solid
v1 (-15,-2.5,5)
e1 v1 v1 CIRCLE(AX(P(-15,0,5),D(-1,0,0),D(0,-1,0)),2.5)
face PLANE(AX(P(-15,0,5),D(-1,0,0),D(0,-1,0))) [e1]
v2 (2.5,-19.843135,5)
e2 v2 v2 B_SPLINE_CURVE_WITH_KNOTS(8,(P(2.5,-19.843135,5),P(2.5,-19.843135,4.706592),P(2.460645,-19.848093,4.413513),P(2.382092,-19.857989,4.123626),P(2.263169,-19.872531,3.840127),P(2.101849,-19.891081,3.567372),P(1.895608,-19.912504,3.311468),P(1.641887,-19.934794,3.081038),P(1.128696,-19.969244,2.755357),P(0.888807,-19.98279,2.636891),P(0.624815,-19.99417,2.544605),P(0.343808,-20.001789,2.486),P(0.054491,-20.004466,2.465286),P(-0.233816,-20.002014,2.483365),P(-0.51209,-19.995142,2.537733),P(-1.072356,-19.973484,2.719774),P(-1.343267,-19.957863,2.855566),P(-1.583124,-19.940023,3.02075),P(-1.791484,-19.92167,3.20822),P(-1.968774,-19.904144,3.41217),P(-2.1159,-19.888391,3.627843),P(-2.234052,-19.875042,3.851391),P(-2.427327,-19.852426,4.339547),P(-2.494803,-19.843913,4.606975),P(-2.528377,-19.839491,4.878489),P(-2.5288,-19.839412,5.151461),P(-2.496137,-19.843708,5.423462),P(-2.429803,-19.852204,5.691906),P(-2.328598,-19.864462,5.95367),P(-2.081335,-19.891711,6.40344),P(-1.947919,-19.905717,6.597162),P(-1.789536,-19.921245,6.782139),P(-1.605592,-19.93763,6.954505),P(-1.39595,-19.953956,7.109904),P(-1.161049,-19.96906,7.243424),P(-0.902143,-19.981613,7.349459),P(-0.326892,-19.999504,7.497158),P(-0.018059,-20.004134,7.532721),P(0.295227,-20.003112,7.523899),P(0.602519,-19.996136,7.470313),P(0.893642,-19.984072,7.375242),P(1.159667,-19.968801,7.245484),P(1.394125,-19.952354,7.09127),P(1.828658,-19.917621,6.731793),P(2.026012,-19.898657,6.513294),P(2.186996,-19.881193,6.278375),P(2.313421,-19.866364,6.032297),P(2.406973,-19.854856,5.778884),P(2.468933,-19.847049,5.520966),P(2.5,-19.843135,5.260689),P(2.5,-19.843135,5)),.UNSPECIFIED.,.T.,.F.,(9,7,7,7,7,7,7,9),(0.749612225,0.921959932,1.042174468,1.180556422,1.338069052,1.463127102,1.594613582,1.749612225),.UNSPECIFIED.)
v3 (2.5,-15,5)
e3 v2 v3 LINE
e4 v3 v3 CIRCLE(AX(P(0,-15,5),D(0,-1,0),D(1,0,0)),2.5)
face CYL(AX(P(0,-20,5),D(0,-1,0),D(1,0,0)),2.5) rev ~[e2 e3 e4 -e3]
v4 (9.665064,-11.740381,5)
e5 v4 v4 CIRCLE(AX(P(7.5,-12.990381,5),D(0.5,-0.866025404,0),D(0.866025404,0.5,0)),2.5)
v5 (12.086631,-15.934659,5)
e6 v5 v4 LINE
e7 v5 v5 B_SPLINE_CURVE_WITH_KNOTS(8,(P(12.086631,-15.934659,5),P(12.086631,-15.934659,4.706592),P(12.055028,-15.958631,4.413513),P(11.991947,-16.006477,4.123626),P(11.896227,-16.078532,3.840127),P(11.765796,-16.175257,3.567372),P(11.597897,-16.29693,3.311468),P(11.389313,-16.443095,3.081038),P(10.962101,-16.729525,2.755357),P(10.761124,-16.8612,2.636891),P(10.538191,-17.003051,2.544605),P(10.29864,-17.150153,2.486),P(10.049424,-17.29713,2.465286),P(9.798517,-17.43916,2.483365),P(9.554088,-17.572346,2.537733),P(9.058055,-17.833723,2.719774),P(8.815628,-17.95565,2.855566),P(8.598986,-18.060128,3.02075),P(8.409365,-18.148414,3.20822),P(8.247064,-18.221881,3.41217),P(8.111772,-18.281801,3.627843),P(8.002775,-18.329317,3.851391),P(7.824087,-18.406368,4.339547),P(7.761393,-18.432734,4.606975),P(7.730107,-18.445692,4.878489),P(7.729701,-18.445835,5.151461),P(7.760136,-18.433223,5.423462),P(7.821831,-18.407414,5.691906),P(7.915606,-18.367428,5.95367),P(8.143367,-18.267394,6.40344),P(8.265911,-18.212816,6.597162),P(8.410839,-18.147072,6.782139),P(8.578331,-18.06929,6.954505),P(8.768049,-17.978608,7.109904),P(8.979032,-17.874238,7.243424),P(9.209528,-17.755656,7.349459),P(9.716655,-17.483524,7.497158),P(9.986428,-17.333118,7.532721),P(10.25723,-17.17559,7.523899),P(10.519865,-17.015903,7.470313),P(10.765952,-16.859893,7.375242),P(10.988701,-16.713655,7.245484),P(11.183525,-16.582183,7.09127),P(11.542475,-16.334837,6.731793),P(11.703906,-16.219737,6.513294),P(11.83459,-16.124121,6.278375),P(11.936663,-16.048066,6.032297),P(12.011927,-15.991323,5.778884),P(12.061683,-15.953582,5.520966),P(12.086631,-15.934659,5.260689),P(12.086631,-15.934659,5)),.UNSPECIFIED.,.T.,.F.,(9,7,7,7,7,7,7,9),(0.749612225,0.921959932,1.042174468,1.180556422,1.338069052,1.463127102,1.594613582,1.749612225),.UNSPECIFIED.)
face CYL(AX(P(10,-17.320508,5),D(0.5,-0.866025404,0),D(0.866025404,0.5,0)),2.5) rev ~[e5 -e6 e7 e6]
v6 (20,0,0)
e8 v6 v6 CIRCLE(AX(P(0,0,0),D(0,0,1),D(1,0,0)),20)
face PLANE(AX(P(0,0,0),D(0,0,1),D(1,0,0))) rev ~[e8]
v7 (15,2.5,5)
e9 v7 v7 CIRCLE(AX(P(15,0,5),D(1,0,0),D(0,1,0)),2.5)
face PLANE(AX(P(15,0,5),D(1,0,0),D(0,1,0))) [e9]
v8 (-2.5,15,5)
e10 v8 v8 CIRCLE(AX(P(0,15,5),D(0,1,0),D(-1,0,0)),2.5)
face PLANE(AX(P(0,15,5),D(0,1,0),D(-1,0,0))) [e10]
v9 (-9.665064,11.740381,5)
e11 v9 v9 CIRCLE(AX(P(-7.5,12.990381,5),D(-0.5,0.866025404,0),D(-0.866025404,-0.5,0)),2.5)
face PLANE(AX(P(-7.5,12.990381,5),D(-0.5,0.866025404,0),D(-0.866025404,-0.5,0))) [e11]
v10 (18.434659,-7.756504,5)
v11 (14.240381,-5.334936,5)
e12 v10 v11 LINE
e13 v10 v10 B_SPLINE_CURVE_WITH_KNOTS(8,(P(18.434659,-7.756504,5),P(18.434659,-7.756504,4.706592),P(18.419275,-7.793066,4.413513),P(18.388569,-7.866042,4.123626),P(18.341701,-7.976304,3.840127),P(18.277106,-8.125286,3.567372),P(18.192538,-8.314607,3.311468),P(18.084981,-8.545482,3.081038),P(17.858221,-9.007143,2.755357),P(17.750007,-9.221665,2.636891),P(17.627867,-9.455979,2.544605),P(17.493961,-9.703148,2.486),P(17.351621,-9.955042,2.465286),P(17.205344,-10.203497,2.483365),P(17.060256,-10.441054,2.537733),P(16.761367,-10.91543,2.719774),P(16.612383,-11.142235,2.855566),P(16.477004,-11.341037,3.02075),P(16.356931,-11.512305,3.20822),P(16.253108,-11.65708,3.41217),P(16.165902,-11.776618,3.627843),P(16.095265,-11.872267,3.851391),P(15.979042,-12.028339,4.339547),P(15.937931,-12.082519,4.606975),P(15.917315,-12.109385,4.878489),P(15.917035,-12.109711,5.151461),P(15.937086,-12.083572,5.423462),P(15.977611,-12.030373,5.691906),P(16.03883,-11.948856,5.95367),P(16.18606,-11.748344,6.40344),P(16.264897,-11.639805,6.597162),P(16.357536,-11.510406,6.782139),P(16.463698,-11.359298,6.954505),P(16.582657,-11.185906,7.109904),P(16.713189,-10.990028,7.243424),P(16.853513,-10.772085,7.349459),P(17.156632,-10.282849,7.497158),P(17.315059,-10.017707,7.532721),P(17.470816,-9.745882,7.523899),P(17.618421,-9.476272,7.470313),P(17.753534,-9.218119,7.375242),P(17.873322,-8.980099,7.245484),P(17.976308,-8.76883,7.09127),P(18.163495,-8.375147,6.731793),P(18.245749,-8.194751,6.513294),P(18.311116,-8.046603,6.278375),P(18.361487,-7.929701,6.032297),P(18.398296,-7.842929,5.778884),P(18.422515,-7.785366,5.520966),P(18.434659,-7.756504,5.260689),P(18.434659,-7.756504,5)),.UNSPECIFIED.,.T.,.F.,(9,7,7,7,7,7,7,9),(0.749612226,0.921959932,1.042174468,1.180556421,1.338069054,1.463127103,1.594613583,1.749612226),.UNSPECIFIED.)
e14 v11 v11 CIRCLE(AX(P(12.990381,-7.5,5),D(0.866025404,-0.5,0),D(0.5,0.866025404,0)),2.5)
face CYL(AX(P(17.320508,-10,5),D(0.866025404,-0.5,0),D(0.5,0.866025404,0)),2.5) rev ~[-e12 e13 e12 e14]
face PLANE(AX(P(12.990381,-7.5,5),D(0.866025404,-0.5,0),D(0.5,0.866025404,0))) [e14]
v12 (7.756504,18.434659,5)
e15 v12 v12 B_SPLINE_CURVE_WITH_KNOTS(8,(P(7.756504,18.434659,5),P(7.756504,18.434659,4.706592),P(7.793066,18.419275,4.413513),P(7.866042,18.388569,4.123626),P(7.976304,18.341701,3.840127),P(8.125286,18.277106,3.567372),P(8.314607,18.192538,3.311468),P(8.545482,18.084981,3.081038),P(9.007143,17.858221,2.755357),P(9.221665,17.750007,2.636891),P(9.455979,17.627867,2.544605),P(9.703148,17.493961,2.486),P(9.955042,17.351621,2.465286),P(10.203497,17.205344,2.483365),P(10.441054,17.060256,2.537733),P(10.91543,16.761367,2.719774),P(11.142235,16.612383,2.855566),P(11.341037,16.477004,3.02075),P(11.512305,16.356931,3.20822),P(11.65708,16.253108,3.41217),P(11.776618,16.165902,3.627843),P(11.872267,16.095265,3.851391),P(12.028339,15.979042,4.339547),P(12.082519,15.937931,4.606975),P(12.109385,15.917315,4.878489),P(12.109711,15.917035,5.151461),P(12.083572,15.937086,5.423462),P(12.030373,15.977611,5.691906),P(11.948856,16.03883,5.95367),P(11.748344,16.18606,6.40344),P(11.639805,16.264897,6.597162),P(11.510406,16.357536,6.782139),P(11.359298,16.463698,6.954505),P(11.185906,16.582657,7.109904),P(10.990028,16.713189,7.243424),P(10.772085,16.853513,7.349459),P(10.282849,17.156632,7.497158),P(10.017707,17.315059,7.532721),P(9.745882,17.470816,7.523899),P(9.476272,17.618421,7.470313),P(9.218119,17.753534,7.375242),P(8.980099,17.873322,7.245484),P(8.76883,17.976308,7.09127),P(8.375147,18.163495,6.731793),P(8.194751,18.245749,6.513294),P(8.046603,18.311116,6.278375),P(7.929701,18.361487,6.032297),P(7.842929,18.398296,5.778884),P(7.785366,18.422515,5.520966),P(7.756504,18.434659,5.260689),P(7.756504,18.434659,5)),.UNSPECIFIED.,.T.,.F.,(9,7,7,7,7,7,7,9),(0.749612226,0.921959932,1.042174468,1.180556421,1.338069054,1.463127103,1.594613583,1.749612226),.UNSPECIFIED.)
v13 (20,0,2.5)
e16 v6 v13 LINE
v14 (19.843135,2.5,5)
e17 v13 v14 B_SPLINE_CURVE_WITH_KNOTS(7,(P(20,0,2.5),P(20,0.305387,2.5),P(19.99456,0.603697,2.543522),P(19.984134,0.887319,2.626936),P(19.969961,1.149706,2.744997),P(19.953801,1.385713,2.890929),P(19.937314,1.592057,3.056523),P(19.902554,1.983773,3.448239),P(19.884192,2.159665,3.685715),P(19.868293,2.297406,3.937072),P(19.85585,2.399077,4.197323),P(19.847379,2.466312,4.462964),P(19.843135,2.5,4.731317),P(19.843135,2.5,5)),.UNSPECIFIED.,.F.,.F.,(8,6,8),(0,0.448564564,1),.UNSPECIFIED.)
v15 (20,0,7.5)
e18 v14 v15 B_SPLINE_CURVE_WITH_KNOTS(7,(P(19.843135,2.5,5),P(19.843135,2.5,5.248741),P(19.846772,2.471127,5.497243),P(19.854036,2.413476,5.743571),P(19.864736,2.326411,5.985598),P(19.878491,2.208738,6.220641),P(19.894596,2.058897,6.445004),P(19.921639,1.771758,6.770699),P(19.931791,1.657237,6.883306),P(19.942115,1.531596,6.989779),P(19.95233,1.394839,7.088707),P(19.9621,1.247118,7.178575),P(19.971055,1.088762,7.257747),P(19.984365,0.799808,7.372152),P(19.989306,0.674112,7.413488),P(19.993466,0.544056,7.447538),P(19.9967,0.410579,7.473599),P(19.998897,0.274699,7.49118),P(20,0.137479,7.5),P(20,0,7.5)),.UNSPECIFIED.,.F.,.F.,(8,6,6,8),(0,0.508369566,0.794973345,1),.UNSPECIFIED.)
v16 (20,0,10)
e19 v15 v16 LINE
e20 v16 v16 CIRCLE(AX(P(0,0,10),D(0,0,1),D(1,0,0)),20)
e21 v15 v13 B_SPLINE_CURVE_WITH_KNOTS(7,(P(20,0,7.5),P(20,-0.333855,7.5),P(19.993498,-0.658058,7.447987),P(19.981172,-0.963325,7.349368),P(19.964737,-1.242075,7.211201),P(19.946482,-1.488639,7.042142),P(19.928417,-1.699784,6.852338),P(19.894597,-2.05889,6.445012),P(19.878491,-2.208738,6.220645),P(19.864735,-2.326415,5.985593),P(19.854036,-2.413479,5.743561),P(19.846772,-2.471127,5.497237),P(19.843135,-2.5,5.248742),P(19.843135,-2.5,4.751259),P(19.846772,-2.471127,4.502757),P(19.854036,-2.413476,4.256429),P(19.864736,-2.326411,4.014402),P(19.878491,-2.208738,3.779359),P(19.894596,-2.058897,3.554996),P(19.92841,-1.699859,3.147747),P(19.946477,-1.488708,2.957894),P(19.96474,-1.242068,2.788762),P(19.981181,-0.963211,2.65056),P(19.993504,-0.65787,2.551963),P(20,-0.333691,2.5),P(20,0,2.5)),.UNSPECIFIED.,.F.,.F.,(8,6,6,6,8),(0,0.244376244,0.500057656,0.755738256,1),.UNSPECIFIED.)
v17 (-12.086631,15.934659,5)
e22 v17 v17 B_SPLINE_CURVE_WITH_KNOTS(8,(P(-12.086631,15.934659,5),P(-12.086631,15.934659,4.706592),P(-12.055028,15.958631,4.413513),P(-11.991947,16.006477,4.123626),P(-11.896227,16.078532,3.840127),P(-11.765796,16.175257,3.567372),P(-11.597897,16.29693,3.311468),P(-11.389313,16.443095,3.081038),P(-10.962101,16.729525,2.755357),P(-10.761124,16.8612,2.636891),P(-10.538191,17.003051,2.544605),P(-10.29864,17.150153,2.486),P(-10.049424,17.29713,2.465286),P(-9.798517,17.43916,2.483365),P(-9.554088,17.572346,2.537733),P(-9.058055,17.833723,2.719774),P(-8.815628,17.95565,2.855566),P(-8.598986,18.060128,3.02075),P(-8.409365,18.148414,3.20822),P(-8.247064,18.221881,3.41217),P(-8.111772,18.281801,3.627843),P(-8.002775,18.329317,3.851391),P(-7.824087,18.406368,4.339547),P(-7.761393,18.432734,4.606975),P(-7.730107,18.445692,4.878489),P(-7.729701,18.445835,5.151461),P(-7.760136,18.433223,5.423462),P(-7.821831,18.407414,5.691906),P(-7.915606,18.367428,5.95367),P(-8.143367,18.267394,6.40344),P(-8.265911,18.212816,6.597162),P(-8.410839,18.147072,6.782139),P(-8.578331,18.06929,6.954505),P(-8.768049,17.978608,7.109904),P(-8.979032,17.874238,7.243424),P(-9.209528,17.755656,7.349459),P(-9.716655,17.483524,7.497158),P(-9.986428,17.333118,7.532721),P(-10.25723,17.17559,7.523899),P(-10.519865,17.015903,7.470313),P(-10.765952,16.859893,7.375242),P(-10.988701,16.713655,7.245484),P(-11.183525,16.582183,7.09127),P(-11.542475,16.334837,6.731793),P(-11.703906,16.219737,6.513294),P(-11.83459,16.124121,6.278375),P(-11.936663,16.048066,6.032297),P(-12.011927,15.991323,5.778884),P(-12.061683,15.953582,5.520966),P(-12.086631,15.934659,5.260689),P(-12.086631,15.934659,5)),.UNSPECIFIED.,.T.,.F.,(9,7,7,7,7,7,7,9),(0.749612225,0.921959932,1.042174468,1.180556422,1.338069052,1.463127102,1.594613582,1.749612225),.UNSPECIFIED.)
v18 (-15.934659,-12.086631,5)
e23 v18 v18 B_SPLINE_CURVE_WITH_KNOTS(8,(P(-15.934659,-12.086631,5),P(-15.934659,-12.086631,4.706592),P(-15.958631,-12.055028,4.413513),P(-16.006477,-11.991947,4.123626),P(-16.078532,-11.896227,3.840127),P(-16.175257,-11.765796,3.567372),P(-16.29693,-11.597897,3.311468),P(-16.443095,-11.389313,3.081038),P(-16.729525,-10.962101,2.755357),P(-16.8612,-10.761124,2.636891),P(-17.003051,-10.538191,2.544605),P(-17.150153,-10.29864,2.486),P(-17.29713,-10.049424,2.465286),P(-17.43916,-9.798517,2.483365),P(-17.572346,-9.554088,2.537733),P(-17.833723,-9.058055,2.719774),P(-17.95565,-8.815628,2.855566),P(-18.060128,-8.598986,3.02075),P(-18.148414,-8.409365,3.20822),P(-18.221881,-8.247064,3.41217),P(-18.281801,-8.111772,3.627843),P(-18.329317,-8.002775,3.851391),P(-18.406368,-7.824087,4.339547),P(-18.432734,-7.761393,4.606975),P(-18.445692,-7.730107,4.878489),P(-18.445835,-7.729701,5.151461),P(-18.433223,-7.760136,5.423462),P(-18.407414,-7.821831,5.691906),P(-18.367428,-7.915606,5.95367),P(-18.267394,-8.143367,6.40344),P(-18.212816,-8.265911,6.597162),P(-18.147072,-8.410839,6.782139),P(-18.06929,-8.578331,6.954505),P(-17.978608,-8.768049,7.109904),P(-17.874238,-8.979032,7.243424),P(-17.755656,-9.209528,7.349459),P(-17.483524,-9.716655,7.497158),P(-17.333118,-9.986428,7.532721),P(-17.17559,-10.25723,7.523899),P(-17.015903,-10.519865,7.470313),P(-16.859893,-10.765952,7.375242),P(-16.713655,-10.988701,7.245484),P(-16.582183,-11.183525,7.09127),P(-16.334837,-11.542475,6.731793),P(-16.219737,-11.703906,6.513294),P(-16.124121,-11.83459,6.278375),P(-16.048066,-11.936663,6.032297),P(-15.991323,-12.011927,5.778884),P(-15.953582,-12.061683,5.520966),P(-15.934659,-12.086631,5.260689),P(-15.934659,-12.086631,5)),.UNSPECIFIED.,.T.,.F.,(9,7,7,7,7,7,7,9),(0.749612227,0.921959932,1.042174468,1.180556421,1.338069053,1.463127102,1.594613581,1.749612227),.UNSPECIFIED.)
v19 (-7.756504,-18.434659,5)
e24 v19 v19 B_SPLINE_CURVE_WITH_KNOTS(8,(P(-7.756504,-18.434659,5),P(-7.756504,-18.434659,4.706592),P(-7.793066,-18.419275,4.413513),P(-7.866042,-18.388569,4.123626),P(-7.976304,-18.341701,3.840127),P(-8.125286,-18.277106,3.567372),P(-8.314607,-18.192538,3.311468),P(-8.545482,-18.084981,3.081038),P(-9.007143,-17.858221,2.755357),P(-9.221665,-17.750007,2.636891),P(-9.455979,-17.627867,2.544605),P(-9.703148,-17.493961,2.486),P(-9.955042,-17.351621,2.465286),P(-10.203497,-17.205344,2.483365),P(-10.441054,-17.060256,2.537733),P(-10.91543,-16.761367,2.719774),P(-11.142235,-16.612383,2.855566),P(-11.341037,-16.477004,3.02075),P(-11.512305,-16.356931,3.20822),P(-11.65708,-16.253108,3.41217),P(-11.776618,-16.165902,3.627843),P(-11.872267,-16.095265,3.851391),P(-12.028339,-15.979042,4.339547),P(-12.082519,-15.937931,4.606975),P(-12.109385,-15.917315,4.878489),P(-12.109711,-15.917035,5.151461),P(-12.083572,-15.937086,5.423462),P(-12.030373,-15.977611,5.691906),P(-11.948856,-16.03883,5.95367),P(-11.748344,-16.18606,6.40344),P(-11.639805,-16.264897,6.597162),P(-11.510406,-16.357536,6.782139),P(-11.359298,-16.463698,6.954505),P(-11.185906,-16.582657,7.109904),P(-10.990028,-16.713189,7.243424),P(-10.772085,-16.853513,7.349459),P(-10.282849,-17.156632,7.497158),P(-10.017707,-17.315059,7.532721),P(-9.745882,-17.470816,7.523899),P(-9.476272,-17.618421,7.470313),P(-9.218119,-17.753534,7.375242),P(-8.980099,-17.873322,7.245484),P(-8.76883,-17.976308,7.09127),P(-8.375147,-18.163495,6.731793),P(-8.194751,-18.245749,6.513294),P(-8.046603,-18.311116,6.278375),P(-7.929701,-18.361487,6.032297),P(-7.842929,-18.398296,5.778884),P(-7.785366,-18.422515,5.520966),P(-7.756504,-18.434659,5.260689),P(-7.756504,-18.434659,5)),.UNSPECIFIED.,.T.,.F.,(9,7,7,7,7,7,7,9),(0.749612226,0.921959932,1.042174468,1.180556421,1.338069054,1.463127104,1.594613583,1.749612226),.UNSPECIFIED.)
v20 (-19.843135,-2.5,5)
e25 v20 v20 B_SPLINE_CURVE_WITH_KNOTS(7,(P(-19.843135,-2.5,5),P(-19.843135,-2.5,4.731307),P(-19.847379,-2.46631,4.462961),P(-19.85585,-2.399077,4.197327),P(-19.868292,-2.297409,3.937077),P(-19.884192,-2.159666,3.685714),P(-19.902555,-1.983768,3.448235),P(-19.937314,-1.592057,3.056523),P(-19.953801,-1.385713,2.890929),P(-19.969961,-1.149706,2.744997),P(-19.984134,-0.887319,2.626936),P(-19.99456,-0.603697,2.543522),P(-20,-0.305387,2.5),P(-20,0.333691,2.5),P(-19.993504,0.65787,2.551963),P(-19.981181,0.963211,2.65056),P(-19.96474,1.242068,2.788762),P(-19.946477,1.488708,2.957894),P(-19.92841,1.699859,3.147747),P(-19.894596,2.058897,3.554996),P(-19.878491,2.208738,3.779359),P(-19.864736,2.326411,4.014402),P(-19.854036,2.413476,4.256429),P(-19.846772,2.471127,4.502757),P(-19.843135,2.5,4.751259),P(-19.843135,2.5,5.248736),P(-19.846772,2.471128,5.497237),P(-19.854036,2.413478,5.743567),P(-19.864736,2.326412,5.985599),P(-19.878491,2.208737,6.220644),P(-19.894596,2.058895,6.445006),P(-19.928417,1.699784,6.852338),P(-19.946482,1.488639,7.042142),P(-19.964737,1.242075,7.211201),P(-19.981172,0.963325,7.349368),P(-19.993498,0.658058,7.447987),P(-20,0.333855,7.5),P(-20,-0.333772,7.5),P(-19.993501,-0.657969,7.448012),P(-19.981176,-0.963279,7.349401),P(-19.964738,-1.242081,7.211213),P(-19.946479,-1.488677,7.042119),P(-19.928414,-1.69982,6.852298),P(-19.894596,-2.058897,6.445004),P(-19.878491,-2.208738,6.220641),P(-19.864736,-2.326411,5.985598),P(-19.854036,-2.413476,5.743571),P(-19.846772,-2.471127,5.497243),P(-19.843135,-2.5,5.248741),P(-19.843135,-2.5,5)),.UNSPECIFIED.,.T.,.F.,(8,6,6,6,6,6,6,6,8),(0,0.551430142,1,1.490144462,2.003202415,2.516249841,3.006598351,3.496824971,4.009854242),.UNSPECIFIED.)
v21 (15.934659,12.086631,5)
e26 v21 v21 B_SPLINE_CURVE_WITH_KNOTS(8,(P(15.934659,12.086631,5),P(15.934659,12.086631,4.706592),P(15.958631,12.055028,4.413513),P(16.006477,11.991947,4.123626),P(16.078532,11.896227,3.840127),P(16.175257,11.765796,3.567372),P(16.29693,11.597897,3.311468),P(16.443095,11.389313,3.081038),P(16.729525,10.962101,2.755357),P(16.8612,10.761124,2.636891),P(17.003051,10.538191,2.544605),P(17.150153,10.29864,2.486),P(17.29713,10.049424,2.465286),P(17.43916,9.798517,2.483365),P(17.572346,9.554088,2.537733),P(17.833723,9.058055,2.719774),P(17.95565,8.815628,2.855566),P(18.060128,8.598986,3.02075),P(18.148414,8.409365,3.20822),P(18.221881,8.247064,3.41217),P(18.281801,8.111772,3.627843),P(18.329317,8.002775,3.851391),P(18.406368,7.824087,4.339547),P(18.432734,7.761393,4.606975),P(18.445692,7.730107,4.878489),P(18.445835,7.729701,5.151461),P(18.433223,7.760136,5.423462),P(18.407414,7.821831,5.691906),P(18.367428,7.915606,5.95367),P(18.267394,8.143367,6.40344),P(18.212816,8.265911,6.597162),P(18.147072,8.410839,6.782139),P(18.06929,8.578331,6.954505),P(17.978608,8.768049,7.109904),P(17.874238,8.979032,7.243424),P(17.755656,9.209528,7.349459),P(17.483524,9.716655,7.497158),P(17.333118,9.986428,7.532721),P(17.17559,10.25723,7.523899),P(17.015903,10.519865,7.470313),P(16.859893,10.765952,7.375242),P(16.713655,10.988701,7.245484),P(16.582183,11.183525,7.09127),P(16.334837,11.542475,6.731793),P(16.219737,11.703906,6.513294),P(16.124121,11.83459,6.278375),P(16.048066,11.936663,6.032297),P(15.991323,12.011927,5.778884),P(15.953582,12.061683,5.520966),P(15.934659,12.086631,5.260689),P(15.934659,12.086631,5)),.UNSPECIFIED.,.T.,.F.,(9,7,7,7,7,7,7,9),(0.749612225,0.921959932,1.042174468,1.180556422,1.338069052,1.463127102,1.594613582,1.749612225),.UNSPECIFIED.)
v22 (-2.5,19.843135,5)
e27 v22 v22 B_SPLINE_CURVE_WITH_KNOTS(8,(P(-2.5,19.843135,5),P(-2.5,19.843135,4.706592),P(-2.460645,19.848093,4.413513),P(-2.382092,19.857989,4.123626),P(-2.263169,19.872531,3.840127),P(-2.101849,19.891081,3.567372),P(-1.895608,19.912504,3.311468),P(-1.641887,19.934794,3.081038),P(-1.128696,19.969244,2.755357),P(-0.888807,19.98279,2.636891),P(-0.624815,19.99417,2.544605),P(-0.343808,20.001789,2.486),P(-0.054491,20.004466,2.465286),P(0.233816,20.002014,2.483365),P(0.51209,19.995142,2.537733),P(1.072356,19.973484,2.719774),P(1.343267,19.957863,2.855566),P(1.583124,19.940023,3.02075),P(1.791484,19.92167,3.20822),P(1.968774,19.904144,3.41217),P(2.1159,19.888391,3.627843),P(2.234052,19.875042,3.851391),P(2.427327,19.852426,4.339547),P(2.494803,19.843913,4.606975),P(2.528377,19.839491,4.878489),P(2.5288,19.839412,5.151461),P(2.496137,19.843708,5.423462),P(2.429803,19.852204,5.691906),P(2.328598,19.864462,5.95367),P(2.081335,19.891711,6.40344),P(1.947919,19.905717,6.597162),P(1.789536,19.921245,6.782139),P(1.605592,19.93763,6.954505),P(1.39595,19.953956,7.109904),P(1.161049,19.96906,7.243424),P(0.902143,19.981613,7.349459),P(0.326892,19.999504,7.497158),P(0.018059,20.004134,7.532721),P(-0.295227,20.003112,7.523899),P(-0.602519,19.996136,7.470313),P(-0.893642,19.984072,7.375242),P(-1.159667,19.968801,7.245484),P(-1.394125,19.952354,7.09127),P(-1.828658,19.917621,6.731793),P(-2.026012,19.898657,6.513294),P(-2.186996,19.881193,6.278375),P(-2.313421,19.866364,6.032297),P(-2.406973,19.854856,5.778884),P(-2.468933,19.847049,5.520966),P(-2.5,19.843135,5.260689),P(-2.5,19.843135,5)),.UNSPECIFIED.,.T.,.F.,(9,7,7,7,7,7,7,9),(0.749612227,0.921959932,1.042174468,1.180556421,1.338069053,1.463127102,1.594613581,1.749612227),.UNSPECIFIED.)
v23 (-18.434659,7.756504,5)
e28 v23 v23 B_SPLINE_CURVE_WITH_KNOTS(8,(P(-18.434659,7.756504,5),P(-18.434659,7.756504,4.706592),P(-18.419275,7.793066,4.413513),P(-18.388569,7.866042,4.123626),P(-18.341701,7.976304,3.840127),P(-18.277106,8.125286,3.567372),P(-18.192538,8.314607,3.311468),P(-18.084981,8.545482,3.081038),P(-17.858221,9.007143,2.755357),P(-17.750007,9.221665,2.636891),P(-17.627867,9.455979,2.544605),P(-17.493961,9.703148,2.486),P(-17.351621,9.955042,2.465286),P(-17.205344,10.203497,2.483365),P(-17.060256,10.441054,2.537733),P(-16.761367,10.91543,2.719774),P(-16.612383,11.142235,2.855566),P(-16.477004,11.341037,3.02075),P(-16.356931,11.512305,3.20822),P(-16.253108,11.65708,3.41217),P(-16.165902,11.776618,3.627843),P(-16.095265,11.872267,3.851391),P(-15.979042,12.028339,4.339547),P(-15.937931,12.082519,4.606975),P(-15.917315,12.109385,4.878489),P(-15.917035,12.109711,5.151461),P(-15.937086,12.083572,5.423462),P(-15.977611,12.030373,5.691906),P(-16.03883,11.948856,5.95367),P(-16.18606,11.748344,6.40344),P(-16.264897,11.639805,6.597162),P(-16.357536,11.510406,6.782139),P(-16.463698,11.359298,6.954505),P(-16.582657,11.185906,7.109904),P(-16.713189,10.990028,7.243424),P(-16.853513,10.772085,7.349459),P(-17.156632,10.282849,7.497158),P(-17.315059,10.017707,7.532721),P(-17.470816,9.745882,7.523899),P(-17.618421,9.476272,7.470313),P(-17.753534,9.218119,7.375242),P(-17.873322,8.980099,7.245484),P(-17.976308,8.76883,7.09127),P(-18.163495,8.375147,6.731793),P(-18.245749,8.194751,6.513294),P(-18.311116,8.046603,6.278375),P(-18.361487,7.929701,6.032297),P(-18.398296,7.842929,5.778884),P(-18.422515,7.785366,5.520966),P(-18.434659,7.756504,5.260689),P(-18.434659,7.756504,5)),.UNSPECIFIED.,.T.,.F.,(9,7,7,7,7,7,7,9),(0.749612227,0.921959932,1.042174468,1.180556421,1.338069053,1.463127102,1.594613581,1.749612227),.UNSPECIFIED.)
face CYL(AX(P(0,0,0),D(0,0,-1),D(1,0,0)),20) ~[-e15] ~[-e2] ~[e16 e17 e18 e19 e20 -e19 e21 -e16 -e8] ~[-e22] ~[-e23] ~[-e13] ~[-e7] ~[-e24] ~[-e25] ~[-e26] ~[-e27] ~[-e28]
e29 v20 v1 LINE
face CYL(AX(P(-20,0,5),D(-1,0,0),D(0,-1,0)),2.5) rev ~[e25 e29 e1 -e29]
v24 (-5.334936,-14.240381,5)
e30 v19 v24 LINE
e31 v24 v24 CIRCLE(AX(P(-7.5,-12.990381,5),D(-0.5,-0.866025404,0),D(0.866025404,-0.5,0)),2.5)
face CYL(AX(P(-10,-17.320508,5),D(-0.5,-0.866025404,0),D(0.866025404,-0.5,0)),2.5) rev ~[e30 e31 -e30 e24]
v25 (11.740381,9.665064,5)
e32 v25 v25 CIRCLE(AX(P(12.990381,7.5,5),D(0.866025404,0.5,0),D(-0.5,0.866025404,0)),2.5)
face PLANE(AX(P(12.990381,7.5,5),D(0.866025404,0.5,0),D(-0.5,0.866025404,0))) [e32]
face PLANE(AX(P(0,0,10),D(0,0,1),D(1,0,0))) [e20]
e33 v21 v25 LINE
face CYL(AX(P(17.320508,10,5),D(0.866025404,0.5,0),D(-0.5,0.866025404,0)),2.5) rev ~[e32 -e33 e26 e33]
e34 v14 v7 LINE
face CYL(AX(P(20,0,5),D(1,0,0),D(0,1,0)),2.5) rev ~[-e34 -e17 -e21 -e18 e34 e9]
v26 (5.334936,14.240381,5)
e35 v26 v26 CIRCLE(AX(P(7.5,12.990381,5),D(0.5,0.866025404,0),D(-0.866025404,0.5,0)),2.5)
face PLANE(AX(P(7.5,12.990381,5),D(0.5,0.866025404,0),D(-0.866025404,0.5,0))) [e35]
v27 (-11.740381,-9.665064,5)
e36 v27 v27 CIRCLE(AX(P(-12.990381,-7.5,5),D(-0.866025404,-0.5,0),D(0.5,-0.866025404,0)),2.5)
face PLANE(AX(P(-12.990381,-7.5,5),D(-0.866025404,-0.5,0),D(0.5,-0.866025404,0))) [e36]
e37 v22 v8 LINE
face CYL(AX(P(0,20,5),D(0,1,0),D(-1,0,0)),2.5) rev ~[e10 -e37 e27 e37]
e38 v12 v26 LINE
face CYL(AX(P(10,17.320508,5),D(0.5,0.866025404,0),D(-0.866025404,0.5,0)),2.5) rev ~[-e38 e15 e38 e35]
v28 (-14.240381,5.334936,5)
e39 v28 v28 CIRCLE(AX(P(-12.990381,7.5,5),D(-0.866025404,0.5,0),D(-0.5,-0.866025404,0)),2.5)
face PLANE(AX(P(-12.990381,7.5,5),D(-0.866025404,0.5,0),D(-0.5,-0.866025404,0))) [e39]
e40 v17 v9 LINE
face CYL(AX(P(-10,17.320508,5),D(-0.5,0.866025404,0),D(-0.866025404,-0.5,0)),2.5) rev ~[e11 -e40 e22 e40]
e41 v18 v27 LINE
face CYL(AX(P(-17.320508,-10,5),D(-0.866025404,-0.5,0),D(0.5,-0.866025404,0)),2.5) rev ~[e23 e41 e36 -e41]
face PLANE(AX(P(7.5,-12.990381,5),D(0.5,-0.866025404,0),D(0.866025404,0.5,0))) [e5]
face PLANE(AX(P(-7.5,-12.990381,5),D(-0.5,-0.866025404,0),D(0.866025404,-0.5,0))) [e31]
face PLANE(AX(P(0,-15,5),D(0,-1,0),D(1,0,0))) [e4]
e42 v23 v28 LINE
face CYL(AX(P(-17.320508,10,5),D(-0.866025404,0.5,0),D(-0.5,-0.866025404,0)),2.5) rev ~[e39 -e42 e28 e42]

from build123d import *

# Parameters (mm, degrees)
F0_R     = 20
F1_DEPTH = 10
F3_R     = 2.5
F4_DEPTH = 5
F6_COUNT = 12


with BuildPart() as f1:
    # F0 (on Top) → F1 (new body)
    with BuildSketch(Plane.XY):
        Circle(F0_R)
    extrude(amount=F1_DEPTH)


with BuildPart() as f4:
    # F3 (on offset) → F4 (new body)
    with BuildSketch(Plane.XZ.offset(20)):
        with Locations((0, 5)):
            Circle(F3_R)
    extrude(amount=-F4_DEPTH)


with BuildPart() as f6_1:
    # F6: instance of F4
    add(f4.part.rotate(Axis((0, 0, 0), (0, 0, -1)), 1 * 360 / F6_COUNT))


with BuildPart() as f6_2:
    # F6: instance of F4
    add(f4.part.rotate(Axis((0, 0, 0), (0, 0, -1)), 2 * 360 / F6_COUNT))


with BuildPart() as f6_3:
    # F6: instance of F4
    add(f4.part.rotate(Axis((0, 0, 0), (0, 0, -1)), 3 * 360 / F6_COUNT))


with BuildPart() as f6_4:
    # F6: instance of F4
    add(f4.part.rotate(Axis((0, 0, 0), (0, 0, -1)), 4 * 360 / F6_COUNT))


with BuildPart() as f6_5:
    # F6: instance of F4
    add(f4.part.rotate(Axis((0, 0, 0), (0, 0, -1)), 5 * 360 / F6_COUNT))


with BuildPart() as f6_6:
    # F6: instance of F4
    add(f4.part.rotate(Axis((0, 0, 0), (0, 0, -1)), 6 * 360 / F6_COUNT))


with BuildPart() as f6_7:
    # F6: instance of F4
    add(f4.part.rotate(Axis((0, 0, 0), (0, 0, -1)), 7 * 360 / F6_COUNT))


with BuildPart() as f6_8:
    # F6: instance of F4
    add(f4.part.rotate(Axis((0, 0, 0), (0, 0, -1)), 8 * 360 / F6_COUNT))


with BuildPart() as f6_9:
    # F6: instance of F4
    add(f4.part.rotate(Axis((0, 0, 0), (0, 0, -1)), 9 * 360 / F6_COUNT))


with BuildPart() as f6_10:
    # F6: instance of F4
    add(f4.part.rotate(Axis((0, 0, 0), (0, 0, -1)), 10 * 360 / F6_COUNT))


with BuildPart() as f6_11:
    # F6: instance of F4
    add(f4.part.rotate(Axis((0, 0, 0), (0, 0, -1)), 11 * 360 / F6_COUNT))


with BuildPart() as f1_1:
    add(f1.part)

    # F7: cut F6_2, F6_1, F4, F6_11, F6_3, F6_9, F6_10, F6_8, F6_4, F6_5, F6_6, F6_7
    add(f6_2.part, mode=Mode.SUBTRACT)
    add(f6_1.part, mode=Mode.SUBTRACT)
    add(f4.part, mode=Mode.SUBTRACT)
    add(f6_11.part, mode=Mode.SUBTRACT)
    add(f6_3.part, mode=Mode.SUBTRACT)
    add(f6_9.part, mode=Mode.SUBTRACT)
    add(f6_10.part, mode=Mode.SUBTRACT)
    add(f6_8.part, mode=Mode.SUBTRACT)
    add(f6_4.part, mode=Mode.SUBTRACT)
    add(f6_5.part, mode=Mode.SUBTRACT)
    add(f6_6.part, mode=Mode.SUBTRACT)
    add(f6_7.part, mode=Mode.SUBTRACT)


solid = f1_1.part
